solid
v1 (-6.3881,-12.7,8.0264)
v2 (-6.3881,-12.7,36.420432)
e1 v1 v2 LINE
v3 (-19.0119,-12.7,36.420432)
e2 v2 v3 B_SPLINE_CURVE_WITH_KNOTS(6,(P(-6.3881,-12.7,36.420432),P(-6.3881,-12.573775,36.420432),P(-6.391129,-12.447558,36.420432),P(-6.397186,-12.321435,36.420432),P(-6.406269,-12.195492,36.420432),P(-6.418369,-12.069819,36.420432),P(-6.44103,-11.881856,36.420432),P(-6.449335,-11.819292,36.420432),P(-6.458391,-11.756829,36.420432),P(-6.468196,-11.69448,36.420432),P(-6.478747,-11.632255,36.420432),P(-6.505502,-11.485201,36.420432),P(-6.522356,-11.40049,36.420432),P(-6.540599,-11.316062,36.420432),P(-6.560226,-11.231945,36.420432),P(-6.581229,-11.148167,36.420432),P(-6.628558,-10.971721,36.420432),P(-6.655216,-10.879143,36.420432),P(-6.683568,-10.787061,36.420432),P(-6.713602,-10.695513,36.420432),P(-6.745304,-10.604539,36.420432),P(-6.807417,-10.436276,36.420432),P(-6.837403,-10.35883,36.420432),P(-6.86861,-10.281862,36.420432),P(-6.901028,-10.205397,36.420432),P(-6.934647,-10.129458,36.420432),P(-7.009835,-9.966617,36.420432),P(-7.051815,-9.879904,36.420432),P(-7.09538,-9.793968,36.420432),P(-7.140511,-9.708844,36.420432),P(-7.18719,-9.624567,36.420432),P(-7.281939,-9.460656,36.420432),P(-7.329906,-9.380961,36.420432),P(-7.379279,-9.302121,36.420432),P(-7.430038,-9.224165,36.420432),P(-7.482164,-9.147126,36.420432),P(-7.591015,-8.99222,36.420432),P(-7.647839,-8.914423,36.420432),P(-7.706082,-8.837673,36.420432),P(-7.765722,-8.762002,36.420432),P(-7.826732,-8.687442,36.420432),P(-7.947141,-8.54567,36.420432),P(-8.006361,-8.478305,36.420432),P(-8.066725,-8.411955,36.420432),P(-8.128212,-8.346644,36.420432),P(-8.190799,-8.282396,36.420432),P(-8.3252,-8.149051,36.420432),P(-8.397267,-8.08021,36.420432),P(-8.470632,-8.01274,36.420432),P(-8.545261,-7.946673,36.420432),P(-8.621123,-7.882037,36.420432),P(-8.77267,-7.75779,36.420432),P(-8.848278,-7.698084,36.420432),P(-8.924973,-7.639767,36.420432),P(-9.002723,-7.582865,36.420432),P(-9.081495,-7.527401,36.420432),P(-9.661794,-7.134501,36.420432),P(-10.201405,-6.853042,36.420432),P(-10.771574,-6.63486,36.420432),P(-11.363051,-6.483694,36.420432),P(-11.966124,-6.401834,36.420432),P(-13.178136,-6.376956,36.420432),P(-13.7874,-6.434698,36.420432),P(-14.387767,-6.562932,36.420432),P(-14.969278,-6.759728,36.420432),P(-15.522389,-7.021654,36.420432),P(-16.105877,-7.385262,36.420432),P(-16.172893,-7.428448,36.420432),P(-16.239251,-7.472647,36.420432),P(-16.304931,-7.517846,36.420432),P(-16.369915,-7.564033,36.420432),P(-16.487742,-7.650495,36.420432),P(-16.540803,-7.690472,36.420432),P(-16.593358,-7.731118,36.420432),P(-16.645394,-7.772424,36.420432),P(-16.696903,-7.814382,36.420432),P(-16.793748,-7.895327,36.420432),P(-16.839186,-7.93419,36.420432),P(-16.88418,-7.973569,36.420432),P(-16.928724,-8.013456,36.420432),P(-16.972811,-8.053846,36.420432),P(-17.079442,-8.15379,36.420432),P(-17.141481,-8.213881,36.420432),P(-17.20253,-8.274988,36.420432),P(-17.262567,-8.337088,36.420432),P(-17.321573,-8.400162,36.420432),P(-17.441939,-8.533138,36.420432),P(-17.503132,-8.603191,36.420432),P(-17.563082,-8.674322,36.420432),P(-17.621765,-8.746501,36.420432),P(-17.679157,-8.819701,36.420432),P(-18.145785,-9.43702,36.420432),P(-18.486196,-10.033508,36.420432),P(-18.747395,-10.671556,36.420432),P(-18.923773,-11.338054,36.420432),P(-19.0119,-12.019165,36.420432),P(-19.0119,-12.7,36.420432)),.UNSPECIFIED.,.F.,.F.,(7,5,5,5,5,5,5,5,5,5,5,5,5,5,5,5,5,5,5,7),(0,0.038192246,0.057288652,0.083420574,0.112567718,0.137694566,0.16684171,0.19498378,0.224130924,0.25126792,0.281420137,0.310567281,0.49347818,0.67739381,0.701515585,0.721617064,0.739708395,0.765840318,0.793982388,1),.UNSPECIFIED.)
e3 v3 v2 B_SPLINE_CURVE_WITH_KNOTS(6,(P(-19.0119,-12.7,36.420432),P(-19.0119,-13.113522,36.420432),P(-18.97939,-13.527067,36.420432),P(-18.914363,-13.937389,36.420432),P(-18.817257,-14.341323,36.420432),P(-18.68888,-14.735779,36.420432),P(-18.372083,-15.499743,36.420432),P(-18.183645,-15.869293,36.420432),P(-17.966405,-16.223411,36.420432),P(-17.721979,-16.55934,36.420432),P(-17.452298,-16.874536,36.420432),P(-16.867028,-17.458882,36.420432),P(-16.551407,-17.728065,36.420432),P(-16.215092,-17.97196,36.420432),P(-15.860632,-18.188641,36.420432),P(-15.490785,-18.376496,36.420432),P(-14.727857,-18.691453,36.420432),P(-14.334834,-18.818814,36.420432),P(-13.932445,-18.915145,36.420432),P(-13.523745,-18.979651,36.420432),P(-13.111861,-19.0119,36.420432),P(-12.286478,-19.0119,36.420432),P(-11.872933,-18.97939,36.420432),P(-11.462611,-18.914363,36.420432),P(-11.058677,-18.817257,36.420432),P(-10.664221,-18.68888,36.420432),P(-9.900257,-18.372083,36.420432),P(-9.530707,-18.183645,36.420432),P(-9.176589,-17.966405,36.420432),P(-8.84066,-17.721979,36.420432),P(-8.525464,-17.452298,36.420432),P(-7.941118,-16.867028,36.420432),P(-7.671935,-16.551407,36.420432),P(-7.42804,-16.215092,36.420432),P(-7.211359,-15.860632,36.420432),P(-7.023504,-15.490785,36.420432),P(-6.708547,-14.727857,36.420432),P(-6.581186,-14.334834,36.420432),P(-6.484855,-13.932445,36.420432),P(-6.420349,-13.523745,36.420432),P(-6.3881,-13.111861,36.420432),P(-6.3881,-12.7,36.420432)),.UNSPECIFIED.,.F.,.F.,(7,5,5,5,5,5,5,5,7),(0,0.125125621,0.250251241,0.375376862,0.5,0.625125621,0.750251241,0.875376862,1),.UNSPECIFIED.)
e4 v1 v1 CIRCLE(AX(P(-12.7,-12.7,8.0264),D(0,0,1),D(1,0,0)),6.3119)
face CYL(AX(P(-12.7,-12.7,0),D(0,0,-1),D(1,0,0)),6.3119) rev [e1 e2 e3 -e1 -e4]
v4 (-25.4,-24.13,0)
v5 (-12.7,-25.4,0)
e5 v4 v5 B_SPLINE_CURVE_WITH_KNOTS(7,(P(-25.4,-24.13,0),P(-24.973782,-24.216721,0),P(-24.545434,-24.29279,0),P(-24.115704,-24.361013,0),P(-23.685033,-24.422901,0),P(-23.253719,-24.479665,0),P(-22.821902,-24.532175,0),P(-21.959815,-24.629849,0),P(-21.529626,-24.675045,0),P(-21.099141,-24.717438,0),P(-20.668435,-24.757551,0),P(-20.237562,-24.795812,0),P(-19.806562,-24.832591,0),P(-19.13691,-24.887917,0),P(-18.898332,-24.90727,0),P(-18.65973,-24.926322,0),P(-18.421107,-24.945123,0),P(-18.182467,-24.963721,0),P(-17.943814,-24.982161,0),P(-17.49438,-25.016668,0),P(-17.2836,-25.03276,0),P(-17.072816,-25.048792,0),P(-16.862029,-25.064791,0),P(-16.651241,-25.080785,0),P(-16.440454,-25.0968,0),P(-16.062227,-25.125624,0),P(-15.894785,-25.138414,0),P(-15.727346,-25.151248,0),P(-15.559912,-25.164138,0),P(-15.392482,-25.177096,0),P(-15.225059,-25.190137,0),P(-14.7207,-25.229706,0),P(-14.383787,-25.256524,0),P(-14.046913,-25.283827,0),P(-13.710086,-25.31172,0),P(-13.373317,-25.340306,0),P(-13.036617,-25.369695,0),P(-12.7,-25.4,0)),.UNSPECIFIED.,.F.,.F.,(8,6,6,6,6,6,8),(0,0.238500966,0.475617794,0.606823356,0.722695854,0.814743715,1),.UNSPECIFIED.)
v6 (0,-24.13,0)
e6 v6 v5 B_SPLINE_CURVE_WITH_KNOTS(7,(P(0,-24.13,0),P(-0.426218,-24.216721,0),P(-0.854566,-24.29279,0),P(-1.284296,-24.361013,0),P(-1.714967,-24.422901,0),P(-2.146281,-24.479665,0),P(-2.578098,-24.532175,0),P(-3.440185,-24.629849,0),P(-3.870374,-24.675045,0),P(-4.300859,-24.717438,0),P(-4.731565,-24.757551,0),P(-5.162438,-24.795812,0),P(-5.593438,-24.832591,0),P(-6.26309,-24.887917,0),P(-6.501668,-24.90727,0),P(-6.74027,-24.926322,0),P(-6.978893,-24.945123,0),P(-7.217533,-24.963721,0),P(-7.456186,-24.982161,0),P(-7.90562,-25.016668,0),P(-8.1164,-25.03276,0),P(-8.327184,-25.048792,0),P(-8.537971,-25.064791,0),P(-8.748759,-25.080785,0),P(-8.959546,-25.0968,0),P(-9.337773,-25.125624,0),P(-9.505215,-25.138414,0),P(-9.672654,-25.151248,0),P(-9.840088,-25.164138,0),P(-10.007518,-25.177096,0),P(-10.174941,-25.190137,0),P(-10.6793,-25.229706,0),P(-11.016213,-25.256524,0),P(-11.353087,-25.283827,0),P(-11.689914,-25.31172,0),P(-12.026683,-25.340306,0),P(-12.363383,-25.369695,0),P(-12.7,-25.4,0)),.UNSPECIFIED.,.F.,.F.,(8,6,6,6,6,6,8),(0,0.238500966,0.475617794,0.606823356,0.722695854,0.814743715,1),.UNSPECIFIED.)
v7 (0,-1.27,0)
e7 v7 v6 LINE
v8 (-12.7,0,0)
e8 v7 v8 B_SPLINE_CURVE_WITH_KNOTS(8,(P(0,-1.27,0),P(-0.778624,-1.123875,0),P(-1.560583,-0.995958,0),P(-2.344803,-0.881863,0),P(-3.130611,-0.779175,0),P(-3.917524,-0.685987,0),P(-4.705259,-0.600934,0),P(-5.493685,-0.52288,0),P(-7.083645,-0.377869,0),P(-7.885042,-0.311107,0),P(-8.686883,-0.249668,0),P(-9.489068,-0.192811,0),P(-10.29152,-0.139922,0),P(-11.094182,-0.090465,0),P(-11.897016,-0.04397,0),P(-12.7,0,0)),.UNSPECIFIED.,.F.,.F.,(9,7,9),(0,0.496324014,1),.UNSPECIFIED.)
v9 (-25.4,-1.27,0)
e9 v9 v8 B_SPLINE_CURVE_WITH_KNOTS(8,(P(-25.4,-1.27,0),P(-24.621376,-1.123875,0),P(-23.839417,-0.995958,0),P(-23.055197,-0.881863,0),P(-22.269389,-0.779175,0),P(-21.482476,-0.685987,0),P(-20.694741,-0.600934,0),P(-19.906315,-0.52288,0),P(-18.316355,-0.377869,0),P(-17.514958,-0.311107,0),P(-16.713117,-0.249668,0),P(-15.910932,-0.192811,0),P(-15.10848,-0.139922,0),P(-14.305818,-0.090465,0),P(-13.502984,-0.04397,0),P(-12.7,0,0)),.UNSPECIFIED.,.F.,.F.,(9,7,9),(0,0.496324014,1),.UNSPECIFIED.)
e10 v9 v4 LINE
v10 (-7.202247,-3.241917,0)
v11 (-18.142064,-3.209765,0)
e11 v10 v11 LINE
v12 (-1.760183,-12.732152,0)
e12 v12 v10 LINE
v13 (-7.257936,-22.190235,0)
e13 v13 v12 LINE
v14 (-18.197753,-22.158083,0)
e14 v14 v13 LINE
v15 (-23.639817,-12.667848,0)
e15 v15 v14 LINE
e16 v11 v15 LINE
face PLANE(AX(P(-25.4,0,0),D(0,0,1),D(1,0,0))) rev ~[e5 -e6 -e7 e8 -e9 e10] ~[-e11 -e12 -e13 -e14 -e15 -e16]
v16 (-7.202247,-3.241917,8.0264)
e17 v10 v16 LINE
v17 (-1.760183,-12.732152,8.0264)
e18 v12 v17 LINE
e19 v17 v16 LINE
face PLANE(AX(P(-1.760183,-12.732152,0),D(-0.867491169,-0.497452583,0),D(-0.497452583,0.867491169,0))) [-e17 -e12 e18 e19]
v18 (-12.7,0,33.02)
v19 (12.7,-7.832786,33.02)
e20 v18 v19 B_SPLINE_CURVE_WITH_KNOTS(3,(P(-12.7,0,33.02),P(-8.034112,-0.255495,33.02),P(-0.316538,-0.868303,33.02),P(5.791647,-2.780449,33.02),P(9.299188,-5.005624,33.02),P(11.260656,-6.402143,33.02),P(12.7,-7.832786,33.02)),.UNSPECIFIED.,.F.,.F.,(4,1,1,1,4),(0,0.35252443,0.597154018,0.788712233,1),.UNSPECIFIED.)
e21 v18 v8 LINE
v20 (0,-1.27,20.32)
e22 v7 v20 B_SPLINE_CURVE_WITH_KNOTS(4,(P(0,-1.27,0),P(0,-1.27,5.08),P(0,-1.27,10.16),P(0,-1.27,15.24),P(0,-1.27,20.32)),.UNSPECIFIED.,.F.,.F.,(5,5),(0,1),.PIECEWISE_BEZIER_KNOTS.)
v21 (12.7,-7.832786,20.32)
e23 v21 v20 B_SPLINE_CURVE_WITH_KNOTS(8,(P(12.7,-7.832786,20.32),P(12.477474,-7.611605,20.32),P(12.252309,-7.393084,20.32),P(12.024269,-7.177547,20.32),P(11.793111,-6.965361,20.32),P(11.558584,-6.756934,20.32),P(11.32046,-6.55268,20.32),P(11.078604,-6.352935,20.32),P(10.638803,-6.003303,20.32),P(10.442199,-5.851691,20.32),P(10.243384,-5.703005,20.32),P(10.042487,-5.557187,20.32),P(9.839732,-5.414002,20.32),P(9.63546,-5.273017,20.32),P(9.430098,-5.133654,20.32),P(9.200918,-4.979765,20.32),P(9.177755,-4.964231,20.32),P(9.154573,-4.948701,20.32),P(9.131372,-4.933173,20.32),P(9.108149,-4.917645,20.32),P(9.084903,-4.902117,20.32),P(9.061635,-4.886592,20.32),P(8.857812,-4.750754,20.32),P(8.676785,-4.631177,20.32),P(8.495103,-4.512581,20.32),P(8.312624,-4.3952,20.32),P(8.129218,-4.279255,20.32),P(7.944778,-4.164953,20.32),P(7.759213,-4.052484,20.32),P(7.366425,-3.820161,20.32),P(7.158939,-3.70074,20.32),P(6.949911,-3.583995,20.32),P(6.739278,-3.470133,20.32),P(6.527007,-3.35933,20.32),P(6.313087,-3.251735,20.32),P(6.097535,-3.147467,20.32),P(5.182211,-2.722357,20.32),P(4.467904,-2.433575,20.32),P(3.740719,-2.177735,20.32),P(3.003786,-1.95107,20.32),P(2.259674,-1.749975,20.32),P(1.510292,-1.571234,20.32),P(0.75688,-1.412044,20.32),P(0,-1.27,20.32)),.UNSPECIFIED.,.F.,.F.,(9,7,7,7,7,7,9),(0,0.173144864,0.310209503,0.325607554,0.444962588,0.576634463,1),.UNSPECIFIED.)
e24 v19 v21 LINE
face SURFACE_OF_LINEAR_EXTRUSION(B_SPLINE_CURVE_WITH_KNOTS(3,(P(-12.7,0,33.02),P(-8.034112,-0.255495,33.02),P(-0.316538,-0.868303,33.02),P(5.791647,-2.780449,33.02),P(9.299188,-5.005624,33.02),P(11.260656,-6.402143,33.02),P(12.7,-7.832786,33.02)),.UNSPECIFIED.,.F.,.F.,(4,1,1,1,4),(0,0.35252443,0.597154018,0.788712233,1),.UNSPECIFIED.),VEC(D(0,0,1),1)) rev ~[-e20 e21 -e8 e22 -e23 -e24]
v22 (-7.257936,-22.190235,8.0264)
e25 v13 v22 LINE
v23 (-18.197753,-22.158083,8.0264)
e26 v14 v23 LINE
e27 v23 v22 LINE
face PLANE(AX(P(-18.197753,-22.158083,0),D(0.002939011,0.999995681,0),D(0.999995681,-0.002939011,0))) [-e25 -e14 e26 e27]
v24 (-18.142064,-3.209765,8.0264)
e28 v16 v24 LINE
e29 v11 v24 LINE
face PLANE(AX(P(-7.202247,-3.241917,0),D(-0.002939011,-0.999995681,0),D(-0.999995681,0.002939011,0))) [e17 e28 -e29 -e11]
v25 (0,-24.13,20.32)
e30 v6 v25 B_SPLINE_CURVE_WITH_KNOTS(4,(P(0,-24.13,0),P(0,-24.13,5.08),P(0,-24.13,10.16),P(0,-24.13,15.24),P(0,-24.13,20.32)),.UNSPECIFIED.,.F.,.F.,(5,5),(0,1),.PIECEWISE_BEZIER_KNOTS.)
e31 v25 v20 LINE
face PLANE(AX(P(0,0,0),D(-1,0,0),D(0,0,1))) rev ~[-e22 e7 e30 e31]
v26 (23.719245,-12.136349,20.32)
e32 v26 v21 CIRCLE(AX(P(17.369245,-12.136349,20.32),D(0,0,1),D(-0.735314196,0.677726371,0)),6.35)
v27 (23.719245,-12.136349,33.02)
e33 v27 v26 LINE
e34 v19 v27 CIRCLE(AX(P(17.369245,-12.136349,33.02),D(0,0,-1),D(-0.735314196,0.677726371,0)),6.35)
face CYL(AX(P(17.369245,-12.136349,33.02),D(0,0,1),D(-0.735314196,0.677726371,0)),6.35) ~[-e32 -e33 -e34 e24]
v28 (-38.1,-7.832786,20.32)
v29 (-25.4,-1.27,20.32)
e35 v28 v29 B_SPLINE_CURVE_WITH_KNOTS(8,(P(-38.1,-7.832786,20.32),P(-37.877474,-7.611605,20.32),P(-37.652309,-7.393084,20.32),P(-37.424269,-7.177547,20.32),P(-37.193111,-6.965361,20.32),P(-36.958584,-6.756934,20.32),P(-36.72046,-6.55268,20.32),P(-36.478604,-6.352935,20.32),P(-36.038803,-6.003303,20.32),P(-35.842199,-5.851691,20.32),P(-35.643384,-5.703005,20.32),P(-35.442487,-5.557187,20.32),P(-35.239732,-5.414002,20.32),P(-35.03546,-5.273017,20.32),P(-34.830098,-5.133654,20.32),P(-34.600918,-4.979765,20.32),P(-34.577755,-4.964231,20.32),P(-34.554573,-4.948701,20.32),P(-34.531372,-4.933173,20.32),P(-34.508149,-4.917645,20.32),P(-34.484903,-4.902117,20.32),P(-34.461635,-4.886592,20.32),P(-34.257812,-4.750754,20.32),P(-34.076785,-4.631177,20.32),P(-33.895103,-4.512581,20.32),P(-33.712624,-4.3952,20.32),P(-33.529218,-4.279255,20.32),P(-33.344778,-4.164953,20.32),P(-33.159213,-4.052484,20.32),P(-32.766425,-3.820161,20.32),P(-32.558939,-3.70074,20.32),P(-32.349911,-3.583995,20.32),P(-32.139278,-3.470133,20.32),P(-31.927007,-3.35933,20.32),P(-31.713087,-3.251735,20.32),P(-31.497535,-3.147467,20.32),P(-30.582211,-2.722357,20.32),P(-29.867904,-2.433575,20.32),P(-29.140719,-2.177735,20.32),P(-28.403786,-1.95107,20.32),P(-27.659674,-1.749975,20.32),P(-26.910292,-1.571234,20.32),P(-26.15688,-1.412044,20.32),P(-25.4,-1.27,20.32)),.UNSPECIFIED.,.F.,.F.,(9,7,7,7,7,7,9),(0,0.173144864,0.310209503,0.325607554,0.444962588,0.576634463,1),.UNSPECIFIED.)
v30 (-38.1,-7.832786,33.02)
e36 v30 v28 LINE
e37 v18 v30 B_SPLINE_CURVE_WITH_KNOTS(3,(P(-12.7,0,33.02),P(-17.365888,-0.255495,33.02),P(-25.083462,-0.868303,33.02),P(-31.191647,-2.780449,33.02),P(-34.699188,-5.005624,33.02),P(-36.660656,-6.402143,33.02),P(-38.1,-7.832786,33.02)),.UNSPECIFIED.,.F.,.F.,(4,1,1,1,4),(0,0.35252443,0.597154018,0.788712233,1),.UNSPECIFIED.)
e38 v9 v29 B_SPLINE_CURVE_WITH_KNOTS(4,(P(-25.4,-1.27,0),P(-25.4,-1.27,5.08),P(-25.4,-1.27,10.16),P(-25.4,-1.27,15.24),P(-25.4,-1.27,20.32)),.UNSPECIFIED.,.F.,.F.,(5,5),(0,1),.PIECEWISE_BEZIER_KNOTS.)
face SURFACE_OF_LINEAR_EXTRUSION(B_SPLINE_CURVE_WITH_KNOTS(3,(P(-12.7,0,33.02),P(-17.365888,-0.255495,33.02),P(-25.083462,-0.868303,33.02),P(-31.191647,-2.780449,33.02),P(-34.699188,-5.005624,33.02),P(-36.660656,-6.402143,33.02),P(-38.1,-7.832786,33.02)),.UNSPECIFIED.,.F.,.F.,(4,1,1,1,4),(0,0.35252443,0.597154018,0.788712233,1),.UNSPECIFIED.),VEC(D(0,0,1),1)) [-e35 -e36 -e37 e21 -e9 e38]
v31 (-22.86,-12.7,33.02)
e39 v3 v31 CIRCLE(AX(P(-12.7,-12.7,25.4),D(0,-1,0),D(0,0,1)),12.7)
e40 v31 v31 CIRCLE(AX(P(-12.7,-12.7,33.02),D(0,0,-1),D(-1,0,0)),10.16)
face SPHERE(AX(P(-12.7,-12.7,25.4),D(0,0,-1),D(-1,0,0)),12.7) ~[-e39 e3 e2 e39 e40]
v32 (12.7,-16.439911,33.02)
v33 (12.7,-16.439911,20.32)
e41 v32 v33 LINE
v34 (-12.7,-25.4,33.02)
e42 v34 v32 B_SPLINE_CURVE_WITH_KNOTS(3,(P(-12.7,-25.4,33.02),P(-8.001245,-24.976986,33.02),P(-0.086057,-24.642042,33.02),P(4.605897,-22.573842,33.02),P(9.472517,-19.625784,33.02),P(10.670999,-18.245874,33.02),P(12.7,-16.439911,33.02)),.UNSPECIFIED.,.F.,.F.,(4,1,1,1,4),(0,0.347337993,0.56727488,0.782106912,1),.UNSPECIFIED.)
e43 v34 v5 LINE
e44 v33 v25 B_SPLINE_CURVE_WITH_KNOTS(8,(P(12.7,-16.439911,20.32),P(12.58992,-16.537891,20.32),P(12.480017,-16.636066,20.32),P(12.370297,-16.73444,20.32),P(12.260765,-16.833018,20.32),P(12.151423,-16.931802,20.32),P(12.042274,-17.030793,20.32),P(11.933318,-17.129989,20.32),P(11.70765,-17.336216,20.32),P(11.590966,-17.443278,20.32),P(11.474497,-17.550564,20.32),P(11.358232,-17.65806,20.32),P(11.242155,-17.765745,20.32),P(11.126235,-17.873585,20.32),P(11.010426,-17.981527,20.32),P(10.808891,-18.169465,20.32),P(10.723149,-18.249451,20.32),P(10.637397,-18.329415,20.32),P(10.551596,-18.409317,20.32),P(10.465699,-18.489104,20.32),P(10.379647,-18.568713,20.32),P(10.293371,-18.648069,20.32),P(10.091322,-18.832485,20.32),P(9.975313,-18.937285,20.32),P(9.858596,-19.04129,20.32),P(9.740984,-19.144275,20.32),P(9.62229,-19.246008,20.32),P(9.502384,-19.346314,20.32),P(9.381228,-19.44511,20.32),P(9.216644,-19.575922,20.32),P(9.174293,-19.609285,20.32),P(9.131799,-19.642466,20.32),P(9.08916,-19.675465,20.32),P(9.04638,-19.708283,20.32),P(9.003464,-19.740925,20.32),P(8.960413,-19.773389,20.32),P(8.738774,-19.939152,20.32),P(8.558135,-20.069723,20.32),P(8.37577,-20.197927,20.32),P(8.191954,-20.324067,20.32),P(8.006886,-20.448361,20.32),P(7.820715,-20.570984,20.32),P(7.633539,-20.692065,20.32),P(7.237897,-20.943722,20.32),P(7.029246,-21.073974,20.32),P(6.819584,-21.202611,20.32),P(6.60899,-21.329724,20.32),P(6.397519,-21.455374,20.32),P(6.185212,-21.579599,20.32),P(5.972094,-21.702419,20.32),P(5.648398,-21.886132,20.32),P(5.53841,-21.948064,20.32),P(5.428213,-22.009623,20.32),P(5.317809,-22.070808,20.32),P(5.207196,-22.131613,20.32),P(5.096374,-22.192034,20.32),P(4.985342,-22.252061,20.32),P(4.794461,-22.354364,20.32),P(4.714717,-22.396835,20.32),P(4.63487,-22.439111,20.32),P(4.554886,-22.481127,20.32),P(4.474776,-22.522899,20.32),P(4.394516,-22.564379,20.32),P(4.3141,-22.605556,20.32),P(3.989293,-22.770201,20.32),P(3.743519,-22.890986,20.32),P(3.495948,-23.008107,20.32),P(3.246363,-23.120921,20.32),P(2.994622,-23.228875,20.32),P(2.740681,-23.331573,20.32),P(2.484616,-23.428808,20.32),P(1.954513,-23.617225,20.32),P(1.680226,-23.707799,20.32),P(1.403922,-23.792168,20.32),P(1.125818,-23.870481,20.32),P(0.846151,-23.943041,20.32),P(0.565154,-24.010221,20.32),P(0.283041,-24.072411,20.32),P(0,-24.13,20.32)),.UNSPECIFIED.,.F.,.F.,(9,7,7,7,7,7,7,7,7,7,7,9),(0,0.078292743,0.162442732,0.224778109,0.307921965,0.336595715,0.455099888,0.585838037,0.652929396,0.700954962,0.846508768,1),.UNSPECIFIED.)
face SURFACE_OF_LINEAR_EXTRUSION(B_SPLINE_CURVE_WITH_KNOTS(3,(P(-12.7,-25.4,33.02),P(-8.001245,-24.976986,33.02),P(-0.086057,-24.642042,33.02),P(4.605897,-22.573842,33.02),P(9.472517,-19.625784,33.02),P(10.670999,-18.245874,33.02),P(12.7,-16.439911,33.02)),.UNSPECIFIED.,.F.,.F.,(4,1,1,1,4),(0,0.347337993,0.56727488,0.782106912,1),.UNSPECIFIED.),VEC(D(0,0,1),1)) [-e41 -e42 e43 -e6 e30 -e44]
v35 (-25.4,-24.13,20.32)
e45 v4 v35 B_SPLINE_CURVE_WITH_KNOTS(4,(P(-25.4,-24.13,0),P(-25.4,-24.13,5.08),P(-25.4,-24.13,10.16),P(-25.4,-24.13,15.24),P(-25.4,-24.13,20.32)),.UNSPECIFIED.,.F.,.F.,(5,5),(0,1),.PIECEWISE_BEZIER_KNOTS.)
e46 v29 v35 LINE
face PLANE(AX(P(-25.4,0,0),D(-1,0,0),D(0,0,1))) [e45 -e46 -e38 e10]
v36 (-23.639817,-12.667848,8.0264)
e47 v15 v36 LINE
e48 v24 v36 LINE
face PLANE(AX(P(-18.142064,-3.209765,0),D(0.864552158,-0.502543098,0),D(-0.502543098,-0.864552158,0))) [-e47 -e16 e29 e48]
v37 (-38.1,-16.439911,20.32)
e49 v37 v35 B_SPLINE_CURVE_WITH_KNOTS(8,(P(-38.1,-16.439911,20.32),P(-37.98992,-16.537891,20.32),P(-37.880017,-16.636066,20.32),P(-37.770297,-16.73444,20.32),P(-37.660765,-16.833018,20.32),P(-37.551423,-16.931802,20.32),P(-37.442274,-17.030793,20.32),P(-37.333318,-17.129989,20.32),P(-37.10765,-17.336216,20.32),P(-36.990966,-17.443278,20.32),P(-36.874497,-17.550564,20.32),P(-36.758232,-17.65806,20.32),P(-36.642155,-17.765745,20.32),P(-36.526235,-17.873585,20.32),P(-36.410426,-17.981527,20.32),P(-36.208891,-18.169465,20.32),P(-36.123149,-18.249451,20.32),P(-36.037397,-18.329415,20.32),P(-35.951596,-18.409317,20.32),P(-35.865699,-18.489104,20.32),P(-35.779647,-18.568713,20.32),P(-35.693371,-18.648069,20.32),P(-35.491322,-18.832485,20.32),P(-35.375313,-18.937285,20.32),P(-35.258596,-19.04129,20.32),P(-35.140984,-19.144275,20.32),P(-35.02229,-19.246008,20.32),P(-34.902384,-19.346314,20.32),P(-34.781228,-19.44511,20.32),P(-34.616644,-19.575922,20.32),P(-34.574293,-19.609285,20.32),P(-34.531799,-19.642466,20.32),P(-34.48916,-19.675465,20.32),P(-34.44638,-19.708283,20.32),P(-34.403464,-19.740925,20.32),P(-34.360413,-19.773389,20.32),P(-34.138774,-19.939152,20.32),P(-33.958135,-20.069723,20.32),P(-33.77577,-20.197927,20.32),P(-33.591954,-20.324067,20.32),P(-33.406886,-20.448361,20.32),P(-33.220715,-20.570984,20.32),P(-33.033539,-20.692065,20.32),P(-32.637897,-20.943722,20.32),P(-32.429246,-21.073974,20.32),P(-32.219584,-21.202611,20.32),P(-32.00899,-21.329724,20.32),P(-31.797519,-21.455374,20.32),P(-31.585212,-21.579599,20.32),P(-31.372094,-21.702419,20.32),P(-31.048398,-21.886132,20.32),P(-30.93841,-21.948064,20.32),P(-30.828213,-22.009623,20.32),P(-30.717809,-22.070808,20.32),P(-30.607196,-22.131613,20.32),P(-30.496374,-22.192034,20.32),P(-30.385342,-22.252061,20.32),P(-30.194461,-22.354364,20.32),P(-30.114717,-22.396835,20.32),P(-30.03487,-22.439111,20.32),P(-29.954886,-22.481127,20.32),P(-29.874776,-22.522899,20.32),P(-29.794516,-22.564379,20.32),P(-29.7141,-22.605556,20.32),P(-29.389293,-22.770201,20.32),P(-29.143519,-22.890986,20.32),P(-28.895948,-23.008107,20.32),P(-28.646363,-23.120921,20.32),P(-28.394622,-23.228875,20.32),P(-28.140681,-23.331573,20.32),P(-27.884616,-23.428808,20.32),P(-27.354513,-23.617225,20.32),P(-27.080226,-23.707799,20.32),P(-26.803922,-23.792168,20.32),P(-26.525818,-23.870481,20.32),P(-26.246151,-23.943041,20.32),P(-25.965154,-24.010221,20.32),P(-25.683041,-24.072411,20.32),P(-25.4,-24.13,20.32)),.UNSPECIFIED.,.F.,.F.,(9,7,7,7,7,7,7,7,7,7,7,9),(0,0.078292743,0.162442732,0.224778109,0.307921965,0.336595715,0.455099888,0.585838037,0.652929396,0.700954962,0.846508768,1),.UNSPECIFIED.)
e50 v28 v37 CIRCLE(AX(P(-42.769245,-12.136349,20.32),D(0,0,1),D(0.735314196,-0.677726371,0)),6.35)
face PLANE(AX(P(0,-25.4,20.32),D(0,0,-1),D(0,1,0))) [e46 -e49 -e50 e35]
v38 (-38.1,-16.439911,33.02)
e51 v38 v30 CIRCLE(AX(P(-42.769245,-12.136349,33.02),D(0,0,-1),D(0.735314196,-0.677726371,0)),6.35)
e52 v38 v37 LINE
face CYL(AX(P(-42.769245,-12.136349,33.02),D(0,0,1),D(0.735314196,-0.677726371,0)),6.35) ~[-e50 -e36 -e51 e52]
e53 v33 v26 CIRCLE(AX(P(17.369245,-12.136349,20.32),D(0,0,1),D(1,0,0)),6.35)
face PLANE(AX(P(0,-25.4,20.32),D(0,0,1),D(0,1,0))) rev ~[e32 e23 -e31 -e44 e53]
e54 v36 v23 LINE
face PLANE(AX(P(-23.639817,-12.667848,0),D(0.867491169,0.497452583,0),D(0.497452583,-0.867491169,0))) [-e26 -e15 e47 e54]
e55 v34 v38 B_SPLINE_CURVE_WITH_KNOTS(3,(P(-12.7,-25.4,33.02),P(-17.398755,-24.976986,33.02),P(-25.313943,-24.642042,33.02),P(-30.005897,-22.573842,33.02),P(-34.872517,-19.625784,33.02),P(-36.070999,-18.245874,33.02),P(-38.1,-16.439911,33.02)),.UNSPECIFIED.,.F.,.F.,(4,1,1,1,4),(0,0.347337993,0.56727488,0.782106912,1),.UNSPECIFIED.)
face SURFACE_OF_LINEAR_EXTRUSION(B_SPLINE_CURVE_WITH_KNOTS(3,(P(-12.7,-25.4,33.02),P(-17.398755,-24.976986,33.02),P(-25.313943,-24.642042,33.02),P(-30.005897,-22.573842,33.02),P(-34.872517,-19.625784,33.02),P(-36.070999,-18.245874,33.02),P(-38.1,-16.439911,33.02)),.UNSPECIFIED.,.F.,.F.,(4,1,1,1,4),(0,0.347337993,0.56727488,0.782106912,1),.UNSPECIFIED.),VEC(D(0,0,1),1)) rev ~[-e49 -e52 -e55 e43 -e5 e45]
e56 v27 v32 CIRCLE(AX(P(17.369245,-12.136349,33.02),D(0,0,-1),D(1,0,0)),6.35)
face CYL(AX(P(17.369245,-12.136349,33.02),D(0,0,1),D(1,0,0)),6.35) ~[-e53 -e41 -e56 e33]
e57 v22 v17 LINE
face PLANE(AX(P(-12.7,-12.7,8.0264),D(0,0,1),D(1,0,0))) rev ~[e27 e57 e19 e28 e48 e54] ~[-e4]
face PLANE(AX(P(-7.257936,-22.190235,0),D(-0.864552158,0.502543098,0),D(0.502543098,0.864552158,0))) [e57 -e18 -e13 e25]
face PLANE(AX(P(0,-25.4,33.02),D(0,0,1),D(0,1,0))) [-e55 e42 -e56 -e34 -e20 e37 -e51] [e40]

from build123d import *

# Parameters (mm, degrees)
F0_W      = 25.4
F0_H      = 25.4
F1_DEPTH  = 25.4
F2_R      = 6.3119
F3_DEPTH  = 8.0264
F7_W      = 25.4
F7_H      = 12.7
F8_DEPTH  = 50.8
F9_DEPTH  = 25.4
F11_DEPTH = 50.8
F12_DEPTH = 50.8
F13_DEPTH = 25.4
F14_DEPTH = 50.8
F15_DEPTH = 50.8


with BuildPart() as f1:
    # F0 (on Front) → F1 (new body)
    with BuildSketch(Plane.XZ):
        with Locations((-12.7, 12.7)):
            Rectangle(F0_W, F0_H)
    extrude(amount=F1_DEPTH)

    # F2 (on Top) → F3 (cut)
    with BuildSketch(Plane.XY):
        Polygon((-7.2579364777, -22.1902352696), (-1.7601834075, -12.7321523755), (-7.2022469298, -3.2419171059), (-18.1420635223, -3.2097647304), (-23.6398165925, -12.6678476245), (-18.1977530702, -22.1580828941), align=None)
        with Locations((-12.7, -12.7)):
            Circle(F2_R, mode=Mode.SUBTRACT)
    extrude(amount=F3_DEPTH, mode=Mode.SUBTRACT)

    # F5 (on offset) → F6 (revolve)
    with BuildSketch(Plane.XZ.offset(12.7)):
        with BuildLine():
            Line((-12.7, 25.4), (-12.7, 38.1))
            ThreePointArc((-12.7, 38.1), (-21.6802561211, 34.3802561211), (-25.4, 25.4))
            Line((-25.4, 25.4), (-12.7, 25.4))
        make_face()
    revolve(axis=Axis((-12.7, -12.7, 31.75), (0, 0, 1)))

    # F7 (on Right) → F8 (join)
    with BuildSketch(Plane.YZ):
        with Locations((-12.7, 26.67)):
            Rectangle(F7_W, F7_H)
    extrude(amount=-F8_DEPTH)

    # F7 (on Right) → F9 (join)
    with BuildSketch(Plane.YZ):
        with Locations((-12.7, 26.67)):
            Rectangle(F7_W, F7_H)
    extrude(amount=F9_DEPTH)

    # F10 (on face) → F11 (cut)
    with BuildSketch(Plane.XY.offset(33.02)):
        with BuildLine():
            add(Edge.make_bspline(
                [(-12.7, 0), (-17.3658879301, -0.2554953412), (-25.0834624368, -0.8683027323), (-31.191647473, -2.7804494515), (-34.6991875165, -5.0056243623), (-36.660656333, -6.4021432772), (-38.1, -7.8327860683)],
                knots=[0, 0, 0, 0, 0.3525244295, 0.5971540178, 0.7887122331, 1, 1, 1, 1], degree=3))
            Line((-12.7, 0), (-38.1, 0))
            Line((-38.1, 0), (-38.1, -7.8327860683))
        make_face()
    extrude(amount=-F11_DEPTH, mode=Mode.SUBTRACT)

    # F10 (on face) → F12 (cut)
    with BuildSketch(Plane.XY.offset(33.02)):
        with BuildLine():
            add(Edge.make_bspline(
                [(-12.7, -25.4), (-17.3987553045, -24.9769857908), (-25.3139427174, -24.6420420616), (-30.0058965126, -22.5738416728), (-34.8725168747, -19.6257840333), (-36.0709987581, -18.2458739728), (-38.1, -16.4399109781)],
                knots=[0, 0, 0, 0, 0.3473379926, 0.5672748801, 0.7821069123, 1, 1, 1, 1], degree=3))
            Line((-38.1, -16.4399109781), (-38.1, -25.4))
            Line((-38.1, -25.4), (-12.7, -25.4))
        make_face()
    extrude(amount=-F12_DEPTH, mode=Mode.SUBTRACT)

    # F10 (on face) → F13 (cut)
    with BuildSketch(Plane.XY.offset(33.02)):
        with BuildLine():
            Line((-38.1, -7.8327860683), (-38.1, 0))
            Line((-38.1, 0), (-50.8, 0))
            Line((-50.8, 0), (-50.8, -25.4))
            Line((-50.8, -25.4), (-38.1, -25.4))
            Line((-38.1, -25.4), (-38.1, -16.4399109781))
            ThreePointArc((-38.1, -16.4399109781), (-49.1192451421, -12.1363485232), (-38.1, -7.8327860683))
        make_face()
    extrude(amount=-F13_DEPTH, mode=Mode.SUBTRACT)

    # F10 (on face) → F14 (cut)
    with BuildSketch(Plane.XY.offset(33.02)):
        with BuildLine():
            Line((25.4, 0), (-12.7, 0))
            add(Edge.make_bspline(
                [(-12.7, 0), (-8.0341120699, -0.2554953412), (-0.3165375632, -0.8683027323), (5.791647473, -2.7804494515), (9.2991875165, -5.0056243623), (11.260656333, -6.4021432772), (12.7, -7.8327860683)],
                knots=[0, 0, 0, 0, 0.3525244295, 0.5971540178, 0.7887122331, 1, 1, 1, 1], degree=3))
            ThreePointArc((12.7, -7.8327860683), (19.6793093563, -6.22144334), (23.7192451421, -12.1363485232))
            ThreePointArc((23.7192451421, -12.1363485232), (19.6793093563, -18.0512537064), (12.7, -16.4399109781))
            add(Edge.make_bspline(
                [(-12.7, -25.4), (-8.0012446955, -24.9769857908), (-0.0860572826, -24.6420420616), (4.6058965126, -22.5738416728), (9.4725168747, -19.6257840333), (10.6709987581, -18.2458739728), (12.7, -16.4399109781)],
                knots=[0, 0, 0, 0, 0.3473379926, 0.5672748801, 0.7821069123, 1, 1, 1, 1], degree=3))
            Line((-12.7, -25.4), (25.4, -25.4))
            Line((25.4, -25.4), (25.4, 0))
        make_face()
    extrude(amount=-F14_DEPTH, mode=Mode.SUBTRACT)

    # F2 (on Top) → F15 (cut)
    with BuildSketch(Plane.XY):
        with Locations((-12.7, -12.7)):
            Circle(F2_R)
    extrude(amount=F15_DEPTH, mode=Mode.SUBTRACT)


solid = f1.part
